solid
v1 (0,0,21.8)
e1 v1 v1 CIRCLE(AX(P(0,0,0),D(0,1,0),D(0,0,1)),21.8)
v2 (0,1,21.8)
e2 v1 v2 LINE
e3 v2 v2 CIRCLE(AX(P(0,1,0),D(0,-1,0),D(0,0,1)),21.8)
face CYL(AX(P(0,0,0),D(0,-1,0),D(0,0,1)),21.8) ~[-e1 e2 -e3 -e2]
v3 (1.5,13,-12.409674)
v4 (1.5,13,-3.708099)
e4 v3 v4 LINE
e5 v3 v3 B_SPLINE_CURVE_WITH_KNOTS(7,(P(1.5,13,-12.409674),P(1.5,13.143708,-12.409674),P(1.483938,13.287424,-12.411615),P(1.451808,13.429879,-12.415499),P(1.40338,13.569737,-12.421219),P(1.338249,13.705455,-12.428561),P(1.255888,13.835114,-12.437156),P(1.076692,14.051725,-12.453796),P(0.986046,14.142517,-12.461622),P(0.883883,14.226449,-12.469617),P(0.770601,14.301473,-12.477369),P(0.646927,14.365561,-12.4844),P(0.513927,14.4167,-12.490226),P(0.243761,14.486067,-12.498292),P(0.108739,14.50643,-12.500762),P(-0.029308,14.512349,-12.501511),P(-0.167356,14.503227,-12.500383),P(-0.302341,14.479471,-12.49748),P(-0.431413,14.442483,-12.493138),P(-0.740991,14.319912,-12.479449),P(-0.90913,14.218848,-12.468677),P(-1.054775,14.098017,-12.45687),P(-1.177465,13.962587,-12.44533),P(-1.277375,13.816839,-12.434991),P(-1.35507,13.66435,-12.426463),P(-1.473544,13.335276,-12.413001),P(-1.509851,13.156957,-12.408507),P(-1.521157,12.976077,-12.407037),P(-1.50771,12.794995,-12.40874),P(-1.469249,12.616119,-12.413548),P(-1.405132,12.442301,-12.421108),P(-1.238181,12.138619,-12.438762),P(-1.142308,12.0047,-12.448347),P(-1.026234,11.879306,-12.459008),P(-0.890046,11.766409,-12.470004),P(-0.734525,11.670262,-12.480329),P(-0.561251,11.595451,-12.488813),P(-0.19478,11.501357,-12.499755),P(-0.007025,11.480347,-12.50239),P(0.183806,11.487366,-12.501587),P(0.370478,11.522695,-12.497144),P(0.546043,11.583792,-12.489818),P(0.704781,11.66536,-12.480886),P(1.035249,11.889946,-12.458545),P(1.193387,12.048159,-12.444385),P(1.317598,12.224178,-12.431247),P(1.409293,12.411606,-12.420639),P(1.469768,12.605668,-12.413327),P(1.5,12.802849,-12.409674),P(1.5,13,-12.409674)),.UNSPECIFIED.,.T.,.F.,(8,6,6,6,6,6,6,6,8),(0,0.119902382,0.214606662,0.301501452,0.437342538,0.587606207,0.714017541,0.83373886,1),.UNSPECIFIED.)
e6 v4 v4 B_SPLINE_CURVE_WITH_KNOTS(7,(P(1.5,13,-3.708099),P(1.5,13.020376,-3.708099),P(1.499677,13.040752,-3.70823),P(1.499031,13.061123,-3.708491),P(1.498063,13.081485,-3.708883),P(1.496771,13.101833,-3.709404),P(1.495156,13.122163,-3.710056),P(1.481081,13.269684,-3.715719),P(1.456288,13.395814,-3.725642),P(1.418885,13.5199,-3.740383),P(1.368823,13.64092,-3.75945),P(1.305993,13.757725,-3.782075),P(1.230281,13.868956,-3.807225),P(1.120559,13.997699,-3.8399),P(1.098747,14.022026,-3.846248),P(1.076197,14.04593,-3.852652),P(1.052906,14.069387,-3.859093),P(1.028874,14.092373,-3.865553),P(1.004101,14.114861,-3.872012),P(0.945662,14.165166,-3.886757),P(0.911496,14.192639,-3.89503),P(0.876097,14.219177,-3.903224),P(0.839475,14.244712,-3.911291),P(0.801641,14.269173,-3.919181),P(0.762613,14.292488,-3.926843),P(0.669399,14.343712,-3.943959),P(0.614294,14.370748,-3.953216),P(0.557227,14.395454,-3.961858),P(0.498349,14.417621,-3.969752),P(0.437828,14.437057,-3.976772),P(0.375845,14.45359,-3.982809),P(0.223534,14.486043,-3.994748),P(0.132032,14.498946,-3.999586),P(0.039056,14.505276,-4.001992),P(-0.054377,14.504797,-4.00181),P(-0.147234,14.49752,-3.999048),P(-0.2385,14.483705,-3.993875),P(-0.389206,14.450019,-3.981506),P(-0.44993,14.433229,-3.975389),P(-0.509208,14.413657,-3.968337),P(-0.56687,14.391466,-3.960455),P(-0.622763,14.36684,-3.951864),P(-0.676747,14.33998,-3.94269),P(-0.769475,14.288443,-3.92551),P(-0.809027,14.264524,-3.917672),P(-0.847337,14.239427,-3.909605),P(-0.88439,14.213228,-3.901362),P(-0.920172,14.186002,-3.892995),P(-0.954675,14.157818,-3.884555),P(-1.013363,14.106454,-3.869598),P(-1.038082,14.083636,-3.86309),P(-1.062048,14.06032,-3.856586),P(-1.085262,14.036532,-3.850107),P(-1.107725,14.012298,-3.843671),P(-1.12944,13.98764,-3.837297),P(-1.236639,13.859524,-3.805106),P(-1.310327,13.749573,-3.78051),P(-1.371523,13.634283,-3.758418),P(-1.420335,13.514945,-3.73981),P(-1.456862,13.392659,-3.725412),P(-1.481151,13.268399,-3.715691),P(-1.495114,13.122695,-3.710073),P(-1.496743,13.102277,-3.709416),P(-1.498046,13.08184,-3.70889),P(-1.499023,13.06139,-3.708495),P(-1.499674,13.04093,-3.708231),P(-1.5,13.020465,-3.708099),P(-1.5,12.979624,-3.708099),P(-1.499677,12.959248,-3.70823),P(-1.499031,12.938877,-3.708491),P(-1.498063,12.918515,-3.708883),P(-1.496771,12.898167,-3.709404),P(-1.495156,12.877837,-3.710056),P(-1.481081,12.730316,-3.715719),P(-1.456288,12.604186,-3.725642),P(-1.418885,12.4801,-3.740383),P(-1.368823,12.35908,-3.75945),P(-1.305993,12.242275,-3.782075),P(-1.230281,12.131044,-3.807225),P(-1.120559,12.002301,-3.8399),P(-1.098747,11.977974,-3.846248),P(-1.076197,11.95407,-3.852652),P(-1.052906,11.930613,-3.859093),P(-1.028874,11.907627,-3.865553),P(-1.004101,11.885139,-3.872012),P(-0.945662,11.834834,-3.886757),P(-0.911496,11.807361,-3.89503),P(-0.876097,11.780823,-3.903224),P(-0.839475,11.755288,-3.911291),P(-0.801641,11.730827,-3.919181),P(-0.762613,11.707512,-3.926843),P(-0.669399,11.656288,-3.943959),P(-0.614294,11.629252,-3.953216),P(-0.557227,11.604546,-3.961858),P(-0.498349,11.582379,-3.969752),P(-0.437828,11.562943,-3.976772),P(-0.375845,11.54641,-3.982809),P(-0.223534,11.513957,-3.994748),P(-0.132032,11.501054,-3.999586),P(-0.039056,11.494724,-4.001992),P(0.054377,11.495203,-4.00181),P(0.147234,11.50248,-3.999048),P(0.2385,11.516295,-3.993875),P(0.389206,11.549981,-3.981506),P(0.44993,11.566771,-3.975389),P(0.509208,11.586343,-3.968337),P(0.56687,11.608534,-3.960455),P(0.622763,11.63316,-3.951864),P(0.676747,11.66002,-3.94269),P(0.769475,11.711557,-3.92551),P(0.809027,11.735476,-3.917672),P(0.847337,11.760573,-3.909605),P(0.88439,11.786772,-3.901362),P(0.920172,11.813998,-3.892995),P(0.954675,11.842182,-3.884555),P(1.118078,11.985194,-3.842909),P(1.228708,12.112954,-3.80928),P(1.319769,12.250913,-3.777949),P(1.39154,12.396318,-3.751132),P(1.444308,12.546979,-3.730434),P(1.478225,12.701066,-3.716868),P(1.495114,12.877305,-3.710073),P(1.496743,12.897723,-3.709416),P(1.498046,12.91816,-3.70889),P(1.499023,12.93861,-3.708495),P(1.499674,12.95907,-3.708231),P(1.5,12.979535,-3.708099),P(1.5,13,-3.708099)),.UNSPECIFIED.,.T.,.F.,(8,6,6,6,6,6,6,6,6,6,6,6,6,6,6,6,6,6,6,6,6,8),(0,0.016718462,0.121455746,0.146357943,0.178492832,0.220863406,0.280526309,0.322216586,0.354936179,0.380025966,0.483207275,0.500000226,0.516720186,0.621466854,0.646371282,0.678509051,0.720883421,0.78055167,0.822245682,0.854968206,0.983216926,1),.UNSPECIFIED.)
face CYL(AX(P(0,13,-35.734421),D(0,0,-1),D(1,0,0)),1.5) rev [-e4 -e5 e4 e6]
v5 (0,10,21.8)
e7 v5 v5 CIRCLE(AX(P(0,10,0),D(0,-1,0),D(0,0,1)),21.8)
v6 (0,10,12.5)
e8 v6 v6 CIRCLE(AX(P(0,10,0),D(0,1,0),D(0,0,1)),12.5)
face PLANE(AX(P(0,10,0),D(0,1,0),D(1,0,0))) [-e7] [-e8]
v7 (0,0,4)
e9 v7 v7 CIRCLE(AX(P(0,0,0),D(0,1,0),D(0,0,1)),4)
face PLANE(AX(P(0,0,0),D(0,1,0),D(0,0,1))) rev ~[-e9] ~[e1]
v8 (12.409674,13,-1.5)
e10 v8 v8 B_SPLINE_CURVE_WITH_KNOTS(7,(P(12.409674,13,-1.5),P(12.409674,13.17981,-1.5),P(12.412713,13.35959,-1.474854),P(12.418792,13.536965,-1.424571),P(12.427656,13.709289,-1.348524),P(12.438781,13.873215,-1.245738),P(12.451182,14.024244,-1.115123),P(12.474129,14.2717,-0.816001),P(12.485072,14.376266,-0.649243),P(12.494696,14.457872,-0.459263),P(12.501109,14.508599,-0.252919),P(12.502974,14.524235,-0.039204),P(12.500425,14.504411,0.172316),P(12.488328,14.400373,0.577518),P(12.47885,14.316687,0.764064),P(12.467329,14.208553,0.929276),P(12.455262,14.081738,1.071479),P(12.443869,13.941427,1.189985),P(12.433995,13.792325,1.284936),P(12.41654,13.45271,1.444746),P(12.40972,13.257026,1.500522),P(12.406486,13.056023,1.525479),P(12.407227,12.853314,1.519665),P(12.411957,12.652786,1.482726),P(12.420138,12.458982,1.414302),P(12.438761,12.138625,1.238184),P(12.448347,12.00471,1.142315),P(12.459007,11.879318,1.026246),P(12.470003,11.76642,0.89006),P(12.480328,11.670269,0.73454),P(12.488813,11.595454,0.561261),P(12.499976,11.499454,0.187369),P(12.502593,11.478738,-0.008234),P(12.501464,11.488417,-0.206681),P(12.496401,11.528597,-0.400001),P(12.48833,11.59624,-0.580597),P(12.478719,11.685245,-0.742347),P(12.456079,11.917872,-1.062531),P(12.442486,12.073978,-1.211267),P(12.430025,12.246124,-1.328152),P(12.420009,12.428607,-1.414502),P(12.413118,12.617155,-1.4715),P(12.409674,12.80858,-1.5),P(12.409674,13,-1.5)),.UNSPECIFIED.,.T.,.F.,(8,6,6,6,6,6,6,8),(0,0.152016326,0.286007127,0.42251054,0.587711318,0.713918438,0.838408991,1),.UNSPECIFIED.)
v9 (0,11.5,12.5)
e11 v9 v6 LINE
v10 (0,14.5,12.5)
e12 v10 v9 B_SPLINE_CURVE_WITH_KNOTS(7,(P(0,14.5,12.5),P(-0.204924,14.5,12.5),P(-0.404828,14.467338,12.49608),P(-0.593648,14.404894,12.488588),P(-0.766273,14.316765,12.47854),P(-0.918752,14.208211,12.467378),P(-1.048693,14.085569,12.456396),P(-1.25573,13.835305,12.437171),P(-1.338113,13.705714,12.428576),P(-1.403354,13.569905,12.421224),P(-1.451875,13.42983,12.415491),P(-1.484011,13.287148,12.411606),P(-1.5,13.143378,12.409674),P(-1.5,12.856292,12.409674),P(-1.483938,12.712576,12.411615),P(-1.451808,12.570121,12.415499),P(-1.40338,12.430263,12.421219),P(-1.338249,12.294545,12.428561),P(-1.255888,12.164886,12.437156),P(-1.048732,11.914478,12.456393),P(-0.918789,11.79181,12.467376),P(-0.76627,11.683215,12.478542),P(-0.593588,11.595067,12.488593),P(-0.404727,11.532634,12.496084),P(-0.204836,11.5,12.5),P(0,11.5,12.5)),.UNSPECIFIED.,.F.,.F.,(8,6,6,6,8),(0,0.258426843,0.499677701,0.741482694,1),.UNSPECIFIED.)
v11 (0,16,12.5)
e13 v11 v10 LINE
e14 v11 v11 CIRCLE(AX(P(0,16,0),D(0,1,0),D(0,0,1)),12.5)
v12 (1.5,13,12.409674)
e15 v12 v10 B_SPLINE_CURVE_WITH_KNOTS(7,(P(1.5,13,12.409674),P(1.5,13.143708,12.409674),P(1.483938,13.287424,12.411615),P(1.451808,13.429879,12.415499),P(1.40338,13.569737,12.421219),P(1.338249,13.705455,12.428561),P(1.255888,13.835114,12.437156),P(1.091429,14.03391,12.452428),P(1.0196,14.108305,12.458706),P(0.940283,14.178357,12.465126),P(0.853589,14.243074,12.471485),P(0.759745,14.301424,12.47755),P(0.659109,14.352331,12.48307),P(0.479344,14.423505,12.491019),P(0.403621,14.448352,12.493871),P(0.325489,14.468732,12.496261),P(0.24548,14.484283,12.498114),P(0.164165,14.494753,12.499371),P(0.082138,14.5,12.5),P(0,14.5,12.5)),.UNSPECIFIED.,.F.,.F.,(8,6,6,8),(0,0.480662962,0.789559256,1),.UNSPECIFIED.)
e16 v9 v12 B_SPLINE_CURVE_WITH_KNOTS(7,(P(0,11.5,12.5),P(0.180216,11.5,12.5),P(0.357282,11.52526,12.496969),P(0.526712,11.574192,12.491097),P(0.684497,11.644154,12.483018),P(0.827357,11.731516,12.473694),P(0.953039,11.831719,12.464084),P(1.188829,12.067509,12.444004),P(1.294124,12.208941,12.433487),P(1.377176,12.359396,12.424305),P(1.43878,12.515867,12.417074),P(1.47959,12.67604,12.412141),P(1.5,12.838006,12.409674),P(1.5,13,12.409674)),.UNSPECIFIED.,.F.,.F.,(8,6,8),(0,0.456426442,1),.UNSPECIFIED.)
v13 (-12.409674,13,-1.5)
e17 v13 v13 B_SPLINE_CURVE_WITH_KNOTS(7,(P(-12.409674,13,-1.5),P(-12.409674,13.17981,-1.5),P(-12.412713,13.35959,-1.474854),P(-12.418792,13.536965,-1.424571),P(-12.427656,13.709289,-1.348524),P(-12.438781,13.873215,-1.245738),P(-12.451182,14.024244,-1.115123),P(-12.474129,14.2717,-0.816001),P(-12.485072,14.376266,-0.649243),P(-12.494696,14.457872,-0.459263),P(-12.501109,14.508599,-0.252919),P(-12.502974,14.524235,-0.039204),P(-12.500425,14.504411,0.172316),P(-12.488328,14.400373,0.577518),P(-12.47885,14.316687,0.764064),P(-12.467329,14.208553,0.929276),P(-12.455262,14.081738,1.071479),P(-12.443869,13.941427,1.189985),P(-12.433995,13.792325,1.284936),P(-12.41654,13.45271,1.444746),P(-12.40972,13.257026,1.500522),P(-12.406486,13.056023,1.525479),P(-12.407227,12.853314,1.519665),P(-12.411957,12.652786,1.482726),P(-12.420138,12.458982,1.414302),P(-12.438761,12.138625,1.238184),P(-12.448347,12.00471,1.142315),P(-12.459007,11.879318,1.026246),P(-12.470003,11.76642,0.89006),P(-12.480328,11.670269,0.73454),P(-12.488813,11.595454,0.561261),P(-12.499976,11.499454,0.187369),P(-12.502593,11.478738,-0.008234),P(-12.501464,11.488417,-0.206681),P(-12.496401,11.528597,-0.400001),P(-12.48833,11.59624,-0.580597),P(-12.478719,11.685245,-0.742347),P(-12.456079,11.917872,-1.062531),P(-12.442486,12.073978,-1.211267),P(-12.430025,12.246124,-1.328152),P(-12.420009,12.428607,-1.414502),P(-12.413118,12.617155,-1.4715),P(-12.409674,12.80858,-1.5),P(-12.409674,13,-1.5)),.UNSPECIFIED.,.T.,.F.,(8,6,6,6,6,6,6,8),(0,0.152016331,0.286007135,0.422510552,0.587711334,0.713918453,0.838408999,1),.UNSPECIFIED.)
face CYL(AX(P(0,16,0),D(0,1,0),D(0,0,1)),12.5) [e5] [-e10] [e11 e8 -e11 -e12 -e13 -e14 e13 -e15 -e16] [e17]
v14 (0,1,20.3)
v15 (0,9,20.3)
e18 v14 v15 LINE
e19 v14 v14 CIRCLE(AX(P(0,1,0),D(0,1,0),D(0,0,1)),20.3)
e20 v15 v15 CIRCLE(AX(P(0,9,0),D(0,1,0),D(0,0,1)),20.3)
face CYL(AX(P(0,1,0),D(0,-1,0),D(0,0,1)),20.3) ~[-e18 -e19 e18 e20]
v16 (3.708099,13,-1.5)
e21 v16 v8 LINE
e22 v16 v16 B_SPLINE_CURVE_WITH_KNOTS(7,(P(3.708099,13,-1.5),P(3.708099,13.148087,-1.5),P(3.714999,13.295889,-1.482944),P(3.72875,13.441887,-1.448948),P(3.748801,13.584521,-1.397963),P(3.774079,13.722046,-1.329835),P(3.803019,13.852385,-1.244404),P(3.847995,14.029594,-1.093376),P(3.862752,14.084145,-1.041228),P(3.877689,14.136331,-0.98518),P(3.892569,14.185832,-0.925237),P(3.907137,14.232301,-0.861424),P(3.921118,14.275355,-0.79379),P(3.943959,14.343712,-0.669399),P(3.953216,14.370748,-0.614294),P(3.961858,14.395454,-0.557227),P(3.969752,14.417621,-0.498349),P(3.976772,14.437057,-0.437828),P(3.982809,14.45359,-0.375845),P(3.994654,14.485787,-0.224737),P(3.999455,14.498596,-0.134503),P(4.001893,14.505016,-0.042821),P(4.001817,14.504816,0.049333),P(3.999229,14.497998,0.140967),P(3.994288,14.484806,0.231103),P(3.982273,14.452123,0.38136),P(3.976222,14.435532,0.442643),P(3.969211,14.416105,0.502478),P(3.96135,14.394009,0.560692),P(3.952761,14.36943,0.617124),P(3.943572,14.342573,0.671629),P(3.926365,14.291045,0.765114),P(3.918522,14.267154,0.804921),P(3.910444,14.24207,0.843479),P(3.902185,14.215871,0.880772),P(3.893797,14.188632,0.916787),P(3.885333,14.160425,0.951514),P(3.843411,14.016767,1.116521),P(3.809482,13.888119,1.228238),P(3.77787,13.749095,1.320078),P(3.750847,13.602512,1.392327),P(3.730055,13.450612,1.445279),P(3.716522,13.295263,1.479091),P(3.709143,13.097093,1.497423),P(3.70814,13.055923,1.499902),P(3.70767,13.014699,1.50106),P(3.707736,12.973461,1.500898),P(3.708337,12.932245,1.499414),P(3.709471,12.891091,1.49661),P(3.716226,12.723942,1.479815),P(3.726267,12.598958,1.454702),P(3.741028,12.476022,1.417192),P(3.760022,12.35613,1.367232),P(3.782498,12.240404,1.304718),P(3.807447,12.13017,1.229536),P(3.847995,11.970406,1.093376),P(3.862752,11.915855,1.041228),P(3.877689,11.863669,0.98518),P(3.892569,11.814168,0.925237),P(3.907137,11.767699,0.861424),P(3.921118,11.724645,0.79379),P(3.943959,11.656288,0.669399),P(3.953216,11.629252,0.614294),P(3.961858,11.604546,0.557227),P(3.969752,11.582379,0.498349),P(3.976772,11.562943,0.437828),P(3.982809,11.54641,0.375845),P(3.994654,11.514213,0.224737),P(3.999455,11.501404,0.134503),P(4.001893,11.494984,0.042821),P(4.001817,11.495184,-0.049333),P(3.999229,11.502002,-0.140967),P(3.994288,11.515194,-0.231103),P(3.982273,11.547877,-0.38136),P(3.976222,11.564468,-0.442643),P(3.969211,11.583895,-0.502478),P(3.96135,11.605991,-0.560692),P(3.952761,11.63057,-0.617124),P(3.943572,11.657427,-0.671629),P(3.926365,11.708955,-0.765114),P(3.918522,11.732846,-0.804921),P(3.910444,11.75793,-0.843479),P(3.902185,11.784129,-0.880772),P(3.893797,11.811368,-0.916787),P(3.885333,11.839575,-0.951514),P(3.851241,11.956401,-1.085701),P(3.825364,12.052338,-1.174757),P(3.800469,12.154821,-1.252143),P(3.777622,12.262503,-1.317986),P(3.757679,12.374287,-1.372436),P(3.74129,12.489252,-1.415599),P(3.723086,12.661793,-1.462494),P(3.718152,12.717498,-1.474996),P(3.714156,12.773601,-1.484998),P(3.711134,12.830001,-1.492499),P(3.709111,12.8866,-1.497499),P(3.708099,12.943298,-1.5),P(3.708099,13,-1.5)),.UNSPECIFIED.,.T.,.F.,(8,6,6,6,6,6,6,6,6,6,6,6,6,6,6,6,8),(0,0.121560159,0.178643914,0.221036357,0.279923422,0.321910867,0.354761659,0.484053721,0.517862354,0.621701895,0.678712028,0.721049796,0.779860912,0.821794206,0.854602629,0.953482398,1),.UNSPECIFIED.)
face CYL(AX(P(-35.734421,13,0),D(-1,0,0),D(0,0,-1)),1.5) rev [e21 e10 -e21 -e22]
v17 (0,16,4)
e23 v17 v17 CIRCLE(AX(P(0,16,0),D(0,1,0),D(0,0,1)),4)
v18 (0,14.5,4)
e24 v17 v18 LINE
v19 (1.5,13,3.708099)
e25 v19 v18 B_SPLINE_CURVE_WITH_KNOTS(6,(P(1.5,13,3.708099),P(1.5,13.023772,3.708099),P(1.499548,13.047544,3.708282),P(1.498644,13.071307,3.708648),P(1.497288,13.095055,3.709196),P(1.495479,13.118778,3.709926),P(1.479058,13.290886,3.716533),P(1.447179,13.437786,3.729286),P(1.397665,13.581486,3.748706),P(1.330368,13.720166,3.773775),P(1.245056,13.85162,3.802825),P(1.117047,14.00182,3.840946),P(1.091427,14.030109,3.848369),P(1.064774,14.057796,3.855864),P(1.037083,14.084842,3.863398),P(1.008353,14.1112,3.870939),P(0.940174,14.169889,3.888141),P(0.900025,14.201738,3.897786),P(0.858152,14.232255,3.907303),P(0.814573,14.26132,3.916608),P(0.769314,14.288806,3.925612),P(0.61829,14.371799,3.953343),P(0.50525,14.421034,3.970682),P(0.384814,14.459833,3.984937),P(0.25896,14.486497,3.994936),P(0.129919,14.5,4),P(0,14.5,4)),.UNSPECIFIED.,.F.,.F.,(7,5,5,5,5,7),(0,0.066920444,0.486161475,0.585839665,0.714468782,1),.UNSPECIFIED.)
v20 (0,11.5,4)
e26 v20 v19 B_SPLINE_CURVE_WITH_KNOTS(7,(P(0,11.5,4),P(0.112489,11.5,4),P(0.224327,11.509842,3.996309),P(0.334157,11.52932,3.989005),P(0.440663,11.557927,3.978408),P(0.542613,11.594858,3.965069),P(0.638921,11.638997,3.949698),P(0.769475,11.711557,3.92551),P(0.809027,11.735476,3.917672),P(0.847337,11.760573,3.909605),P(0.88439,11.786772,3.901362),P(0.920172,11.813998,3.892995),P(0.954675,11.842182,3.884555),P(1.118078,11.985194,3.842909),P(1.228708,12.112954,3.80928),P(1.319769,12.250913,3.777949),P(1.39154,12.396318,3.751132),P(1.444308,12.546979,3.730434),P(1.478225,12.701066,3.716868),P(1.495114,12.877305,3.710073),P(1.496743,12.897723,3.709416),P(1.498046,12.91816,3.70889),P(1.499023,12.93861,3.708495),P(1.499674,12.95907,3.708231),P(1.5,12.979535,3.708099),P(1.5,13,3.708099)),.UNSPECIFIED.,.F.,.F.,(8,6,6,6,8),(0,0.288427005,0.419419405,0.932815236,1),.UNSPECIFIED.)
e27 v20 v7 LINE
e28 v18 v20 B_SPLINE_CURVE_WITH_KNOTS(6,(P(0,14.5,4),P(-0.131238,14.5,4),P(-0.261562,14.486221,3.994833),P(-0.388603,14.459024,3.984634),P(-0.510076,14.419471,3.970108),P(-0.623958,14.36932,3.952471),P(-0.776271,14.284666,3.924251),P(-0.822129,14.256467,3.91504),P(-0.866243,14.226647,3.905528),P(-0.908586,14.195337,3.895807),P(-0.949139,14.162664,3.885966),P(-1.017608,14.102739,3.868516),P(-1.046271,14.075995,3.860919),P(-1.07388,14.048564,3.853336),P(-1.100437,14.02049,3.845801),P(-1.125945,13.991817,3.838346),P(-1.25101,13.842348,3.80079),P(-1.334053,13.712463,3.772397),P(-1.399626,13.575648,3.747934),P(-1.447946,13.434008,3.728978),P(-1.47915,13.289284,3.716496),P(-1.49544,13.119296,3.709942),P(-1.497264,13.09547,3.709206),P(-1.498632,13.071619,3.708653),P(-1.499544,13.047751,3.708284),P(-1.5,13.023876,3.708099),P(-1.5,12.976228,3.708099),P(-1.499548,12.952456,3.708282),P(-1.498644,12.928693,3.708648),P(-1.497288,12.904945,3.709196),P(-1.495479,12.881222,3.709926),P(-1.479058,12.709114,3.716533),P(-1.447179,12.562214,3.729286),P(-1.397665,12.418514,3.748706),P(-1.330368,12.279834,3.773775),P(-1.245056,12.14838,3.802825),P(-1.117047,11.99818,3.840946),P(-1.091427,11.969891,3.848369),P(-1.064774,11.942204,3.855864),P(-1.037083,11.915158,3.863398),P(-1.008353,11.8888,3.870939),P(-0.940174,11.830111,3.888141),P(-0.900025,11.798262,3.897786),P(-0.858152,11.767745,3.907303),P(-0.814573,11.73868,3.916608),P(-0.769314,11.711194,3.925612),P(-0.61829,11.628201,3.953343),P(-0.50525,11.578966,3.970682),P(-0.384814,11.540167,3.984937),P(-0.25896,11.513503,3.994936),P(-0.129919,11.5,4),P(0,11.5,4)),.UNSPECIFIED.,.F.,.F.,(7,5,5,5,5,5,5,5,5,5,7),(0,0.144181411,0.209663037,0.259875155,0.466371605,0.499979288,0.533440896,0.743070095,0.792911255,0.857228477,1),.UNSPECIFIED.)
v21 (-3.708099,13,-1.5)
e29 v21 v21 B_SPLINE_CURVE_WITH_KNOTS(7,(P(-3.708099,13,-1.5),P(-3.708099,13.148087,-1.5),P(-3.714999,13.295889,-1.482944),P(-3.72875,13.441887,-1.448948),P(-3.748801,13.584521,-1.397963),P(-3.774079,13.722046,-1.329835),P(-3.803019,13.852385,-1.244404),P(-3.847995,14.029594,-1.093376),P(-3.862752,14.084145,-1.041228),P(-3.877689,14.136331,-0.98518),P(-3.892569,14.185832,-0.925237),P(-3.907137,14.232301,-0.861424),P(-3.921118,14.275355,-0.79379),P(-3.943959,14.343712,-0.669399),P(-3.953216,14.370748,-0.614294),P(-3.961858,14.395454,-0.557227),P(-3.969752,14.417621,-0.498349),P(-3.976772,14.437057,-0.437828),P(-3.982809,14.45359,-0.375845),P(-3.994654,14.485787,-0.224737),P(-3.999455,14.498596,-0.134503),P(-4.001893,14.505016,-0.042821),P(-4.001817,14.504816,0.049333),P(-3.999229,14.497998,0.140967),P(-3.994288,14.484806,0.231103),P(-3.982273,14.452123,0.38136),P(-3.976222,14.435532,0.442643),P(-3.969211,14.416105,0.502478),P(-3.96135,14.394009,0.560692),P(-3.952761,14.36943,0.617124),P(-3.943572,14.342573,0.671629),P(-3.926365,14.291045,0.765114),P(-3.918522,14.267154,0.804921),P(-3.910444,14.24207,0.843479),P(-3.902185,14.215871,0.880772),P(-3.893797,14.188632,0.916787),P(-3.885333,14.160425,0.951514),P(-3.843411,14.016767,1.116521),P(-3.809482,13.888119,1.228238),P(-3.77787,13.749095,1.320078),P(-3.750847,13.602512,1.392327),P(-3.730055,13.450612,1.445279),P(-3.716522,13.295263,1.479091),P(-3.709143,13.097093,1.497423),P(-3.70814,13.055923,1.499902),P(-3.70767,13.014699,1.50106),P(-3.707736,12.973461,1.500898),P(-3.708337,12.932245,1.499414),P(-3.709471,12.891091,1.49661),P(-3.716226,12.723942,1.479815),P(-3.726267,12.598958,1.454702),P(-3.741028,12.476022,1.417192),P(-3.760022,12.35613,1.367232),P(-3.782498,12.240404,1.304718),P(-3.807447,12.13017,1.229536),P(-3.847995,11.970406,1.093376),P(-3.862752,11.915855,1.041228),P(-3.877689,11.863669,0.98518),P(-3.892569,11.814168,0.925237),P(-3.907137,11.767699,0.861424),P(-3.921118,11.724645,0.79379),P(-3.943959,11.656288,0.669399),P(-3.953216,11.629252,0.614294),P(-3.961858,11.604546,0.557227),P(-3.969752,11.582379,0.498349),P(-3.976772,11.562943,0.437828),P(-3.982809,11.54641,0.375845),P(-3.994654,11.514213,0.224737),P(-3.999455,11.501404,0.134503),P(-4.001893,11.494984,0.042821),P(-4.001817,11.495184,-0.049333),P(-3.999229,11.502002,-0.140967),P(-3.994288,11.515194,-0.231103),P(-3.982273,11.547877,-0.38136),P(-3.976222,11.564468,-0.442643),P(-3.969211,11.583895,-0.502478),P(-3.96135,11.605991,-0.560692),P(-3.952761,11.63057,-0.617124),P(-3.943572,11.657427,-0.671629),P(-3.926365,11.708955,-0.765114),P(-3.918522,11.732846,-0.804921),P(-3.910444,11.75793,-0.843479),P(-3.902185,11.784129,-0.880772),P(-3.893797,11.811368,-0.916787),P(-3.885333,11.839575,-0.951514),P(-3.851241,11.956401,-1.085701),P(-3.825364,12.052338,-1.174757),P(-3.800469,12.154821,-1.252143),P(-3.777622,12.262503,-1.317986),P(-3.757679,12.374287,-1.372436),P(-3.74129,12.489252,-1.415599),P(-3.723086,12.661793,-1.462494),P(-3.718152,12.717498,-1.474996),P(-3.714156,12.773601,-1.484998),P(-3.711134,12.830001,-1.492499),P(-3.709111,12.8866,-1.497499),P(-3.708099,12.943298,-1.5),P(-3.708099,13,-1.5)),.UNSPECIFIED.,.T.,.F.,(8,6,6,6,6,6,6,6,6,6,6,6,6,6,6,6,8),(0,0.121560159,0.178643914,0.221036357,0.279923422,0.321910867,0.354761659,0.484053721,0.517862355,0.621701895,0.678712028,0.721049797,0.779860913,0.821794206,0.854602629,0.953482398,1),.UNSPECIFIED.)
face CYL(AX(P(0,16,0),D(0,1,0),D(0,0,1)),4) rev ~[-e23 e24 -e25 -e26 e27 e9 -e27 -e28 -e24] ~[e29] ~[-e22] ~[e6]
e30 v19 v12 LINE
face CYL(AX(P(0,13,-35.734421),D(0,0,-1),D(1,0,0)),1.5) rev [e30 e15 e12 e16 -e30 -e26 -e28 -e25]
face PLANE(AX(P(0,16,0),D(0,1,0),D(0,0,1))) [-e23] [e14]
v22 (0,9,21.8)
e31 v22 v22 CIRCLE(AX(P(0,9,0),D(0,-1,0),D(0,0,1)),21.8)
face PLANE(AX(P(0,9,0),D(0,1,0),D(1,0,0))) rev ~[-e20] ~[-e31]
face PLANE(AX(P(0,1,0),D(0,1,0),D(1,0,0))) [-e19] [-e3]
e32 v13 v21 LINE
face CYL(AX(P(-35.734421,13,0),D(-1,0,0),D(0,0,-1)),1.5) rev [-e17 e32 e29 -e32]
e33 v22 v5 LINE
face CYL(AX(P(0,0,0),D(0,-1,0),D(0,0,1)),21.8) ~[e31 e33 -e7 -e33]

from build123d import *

# Parameters (mm, degrees)
SKETCH_2_R               = 21.8
EXTRUDE_1_DEPTH          = 16
SKETCH_3_R               = 4
CUT_EXTRUDE_1_DEPTH      = 35.734420968
SKETCH_4_OUTSIDE_W       = 58.34
SKETCH_4_OUTSIDE_H       = 58.34
SKETCH_4_OUTSIDE_R       = 12.5
CUT_EXTRUDE_2_DEPTH      = 6
SKETCH_5_OUTSIDE_W       = 58.34
SKETCH_5_OUTSIDE_H       = 58.34
SKETCH_5_OUTSIDE_R       = 20.3
CUT_EXTRUDE_3_DEPTH      = 8
CUT_EXTRUDE_4_DEPTH      = 35.734420968
CUT_EXTRUDE_4_DEPTH_BACK = 35.734420968
SKETCH_6_R               = 1.5
CUT_EXTRUDE_5_DEPTH      = 35.734421014
CUT_EXTRUDE_5_DEPTH_BACK = 35.734421014
SKETCH_7_R               = 1.5


with BuildPart() as part:
    # 草图2 → 凸台-拉伸1 (new body)
    with BuildSketch(Plane(origin=(0, 0, 0), x_dir=(1, 0, 0), z_dir=(0, 1, 0))):
        with Locations(Location((0, 0, 0), (0, 0, 270))):
            Circle(SKETCH_2_R)
    extrude(amount=EXTRUDE_1_DEPTH)

    # 草图3 → 切除-拉伸1 (cut, through all)
    with BuildSketch(Plane(origin=(0, 16, 0), x_dir=(1, 0, 0), z_dir=(0, 1, 0))):
        with Locations(Location((0, 0, 0), (0, 0, 270))):
            Circle(SKETCH_3_R)
    extrude(amount=-CUT_EXTRUDE_1_DEPTH, mode=Mode.SUBTRACT)

    # 草图4 outside → 切除-拉伸2 (cut)
    with BuildSketch(Plane(origin=(0, 16, 0), x_dir=(1, 0, 0), z_dir=(0, 1, 0))):
        Rectangle(SKETCH_4_OUTSIDE_W, SKETCH_4_OUTSIDE_H)
        with Locations(Location((0, 0, 0), (0, 0, 270))):
            Circle(SKETCH_4_OUTSIDE_R, mode=Mode.SUBTRACT)
    extrude(amount=-CUT_EXTRUDE_2_DEPTH, mode=Mode.SUBTRACT)

    # 草图5 outside → 切除-拉伸3 (cut)
    with BuildSketch(Plane(origin=(0, 1, 0), x_dir=(1, 0, 0), z_dir=(0, 1, 0))):
        Rectangle(SKETCH_5_OUTSIDE_W, SKETCH_5_OUTSIDE_H)
        with Locations(Location((0, 0, 0), (0, 0, 270))):
            Circle(SKETCH_5_OUTSIDE_R, mode=Mode.SUBTRACT)
    extrude(amount=CUT_EXTRUDE_3_DEPTH, mode=Mode.SUBTRACT)

    # 草图6 → 切除-拉伸4 (cut, two sides: drawn at the far end of the back side and taken through both)
    with BuildSketch(Plane(origin=(0, 0, 0), x_dir=(0, 0, -1), z_dir=(1, 0, 0)).offset(-CUT_EXTRUDE_4_DEPTH_BACK)):
        with Locations((0, 13)):
            Circle(SKETCH_6_R)
    extrude(amount=CUT_EXTRUDE_4_DEPTH + CUT_EXTRUDE_4_DEPTH_BACK, mode=Mode.SUBTRACT)

    # 草图7 → 切除-拉伸5 (cut, two sides: drawn at the far end of the back side and taken through both)
    with BuildSketch(Plane.XY.offset(-CUT_EXTRUDE_5_DEPTH_BACK)):
        with Locations((0, 13)):
            Circle(SKETCH_7_R)
    extrude(amount=CUT_EXTRUDE_5_DEPTH + CUT_EXTRUDE_5_DEPTH_BACK, mode=Mode.SUBTRACT)


solid = part.part
